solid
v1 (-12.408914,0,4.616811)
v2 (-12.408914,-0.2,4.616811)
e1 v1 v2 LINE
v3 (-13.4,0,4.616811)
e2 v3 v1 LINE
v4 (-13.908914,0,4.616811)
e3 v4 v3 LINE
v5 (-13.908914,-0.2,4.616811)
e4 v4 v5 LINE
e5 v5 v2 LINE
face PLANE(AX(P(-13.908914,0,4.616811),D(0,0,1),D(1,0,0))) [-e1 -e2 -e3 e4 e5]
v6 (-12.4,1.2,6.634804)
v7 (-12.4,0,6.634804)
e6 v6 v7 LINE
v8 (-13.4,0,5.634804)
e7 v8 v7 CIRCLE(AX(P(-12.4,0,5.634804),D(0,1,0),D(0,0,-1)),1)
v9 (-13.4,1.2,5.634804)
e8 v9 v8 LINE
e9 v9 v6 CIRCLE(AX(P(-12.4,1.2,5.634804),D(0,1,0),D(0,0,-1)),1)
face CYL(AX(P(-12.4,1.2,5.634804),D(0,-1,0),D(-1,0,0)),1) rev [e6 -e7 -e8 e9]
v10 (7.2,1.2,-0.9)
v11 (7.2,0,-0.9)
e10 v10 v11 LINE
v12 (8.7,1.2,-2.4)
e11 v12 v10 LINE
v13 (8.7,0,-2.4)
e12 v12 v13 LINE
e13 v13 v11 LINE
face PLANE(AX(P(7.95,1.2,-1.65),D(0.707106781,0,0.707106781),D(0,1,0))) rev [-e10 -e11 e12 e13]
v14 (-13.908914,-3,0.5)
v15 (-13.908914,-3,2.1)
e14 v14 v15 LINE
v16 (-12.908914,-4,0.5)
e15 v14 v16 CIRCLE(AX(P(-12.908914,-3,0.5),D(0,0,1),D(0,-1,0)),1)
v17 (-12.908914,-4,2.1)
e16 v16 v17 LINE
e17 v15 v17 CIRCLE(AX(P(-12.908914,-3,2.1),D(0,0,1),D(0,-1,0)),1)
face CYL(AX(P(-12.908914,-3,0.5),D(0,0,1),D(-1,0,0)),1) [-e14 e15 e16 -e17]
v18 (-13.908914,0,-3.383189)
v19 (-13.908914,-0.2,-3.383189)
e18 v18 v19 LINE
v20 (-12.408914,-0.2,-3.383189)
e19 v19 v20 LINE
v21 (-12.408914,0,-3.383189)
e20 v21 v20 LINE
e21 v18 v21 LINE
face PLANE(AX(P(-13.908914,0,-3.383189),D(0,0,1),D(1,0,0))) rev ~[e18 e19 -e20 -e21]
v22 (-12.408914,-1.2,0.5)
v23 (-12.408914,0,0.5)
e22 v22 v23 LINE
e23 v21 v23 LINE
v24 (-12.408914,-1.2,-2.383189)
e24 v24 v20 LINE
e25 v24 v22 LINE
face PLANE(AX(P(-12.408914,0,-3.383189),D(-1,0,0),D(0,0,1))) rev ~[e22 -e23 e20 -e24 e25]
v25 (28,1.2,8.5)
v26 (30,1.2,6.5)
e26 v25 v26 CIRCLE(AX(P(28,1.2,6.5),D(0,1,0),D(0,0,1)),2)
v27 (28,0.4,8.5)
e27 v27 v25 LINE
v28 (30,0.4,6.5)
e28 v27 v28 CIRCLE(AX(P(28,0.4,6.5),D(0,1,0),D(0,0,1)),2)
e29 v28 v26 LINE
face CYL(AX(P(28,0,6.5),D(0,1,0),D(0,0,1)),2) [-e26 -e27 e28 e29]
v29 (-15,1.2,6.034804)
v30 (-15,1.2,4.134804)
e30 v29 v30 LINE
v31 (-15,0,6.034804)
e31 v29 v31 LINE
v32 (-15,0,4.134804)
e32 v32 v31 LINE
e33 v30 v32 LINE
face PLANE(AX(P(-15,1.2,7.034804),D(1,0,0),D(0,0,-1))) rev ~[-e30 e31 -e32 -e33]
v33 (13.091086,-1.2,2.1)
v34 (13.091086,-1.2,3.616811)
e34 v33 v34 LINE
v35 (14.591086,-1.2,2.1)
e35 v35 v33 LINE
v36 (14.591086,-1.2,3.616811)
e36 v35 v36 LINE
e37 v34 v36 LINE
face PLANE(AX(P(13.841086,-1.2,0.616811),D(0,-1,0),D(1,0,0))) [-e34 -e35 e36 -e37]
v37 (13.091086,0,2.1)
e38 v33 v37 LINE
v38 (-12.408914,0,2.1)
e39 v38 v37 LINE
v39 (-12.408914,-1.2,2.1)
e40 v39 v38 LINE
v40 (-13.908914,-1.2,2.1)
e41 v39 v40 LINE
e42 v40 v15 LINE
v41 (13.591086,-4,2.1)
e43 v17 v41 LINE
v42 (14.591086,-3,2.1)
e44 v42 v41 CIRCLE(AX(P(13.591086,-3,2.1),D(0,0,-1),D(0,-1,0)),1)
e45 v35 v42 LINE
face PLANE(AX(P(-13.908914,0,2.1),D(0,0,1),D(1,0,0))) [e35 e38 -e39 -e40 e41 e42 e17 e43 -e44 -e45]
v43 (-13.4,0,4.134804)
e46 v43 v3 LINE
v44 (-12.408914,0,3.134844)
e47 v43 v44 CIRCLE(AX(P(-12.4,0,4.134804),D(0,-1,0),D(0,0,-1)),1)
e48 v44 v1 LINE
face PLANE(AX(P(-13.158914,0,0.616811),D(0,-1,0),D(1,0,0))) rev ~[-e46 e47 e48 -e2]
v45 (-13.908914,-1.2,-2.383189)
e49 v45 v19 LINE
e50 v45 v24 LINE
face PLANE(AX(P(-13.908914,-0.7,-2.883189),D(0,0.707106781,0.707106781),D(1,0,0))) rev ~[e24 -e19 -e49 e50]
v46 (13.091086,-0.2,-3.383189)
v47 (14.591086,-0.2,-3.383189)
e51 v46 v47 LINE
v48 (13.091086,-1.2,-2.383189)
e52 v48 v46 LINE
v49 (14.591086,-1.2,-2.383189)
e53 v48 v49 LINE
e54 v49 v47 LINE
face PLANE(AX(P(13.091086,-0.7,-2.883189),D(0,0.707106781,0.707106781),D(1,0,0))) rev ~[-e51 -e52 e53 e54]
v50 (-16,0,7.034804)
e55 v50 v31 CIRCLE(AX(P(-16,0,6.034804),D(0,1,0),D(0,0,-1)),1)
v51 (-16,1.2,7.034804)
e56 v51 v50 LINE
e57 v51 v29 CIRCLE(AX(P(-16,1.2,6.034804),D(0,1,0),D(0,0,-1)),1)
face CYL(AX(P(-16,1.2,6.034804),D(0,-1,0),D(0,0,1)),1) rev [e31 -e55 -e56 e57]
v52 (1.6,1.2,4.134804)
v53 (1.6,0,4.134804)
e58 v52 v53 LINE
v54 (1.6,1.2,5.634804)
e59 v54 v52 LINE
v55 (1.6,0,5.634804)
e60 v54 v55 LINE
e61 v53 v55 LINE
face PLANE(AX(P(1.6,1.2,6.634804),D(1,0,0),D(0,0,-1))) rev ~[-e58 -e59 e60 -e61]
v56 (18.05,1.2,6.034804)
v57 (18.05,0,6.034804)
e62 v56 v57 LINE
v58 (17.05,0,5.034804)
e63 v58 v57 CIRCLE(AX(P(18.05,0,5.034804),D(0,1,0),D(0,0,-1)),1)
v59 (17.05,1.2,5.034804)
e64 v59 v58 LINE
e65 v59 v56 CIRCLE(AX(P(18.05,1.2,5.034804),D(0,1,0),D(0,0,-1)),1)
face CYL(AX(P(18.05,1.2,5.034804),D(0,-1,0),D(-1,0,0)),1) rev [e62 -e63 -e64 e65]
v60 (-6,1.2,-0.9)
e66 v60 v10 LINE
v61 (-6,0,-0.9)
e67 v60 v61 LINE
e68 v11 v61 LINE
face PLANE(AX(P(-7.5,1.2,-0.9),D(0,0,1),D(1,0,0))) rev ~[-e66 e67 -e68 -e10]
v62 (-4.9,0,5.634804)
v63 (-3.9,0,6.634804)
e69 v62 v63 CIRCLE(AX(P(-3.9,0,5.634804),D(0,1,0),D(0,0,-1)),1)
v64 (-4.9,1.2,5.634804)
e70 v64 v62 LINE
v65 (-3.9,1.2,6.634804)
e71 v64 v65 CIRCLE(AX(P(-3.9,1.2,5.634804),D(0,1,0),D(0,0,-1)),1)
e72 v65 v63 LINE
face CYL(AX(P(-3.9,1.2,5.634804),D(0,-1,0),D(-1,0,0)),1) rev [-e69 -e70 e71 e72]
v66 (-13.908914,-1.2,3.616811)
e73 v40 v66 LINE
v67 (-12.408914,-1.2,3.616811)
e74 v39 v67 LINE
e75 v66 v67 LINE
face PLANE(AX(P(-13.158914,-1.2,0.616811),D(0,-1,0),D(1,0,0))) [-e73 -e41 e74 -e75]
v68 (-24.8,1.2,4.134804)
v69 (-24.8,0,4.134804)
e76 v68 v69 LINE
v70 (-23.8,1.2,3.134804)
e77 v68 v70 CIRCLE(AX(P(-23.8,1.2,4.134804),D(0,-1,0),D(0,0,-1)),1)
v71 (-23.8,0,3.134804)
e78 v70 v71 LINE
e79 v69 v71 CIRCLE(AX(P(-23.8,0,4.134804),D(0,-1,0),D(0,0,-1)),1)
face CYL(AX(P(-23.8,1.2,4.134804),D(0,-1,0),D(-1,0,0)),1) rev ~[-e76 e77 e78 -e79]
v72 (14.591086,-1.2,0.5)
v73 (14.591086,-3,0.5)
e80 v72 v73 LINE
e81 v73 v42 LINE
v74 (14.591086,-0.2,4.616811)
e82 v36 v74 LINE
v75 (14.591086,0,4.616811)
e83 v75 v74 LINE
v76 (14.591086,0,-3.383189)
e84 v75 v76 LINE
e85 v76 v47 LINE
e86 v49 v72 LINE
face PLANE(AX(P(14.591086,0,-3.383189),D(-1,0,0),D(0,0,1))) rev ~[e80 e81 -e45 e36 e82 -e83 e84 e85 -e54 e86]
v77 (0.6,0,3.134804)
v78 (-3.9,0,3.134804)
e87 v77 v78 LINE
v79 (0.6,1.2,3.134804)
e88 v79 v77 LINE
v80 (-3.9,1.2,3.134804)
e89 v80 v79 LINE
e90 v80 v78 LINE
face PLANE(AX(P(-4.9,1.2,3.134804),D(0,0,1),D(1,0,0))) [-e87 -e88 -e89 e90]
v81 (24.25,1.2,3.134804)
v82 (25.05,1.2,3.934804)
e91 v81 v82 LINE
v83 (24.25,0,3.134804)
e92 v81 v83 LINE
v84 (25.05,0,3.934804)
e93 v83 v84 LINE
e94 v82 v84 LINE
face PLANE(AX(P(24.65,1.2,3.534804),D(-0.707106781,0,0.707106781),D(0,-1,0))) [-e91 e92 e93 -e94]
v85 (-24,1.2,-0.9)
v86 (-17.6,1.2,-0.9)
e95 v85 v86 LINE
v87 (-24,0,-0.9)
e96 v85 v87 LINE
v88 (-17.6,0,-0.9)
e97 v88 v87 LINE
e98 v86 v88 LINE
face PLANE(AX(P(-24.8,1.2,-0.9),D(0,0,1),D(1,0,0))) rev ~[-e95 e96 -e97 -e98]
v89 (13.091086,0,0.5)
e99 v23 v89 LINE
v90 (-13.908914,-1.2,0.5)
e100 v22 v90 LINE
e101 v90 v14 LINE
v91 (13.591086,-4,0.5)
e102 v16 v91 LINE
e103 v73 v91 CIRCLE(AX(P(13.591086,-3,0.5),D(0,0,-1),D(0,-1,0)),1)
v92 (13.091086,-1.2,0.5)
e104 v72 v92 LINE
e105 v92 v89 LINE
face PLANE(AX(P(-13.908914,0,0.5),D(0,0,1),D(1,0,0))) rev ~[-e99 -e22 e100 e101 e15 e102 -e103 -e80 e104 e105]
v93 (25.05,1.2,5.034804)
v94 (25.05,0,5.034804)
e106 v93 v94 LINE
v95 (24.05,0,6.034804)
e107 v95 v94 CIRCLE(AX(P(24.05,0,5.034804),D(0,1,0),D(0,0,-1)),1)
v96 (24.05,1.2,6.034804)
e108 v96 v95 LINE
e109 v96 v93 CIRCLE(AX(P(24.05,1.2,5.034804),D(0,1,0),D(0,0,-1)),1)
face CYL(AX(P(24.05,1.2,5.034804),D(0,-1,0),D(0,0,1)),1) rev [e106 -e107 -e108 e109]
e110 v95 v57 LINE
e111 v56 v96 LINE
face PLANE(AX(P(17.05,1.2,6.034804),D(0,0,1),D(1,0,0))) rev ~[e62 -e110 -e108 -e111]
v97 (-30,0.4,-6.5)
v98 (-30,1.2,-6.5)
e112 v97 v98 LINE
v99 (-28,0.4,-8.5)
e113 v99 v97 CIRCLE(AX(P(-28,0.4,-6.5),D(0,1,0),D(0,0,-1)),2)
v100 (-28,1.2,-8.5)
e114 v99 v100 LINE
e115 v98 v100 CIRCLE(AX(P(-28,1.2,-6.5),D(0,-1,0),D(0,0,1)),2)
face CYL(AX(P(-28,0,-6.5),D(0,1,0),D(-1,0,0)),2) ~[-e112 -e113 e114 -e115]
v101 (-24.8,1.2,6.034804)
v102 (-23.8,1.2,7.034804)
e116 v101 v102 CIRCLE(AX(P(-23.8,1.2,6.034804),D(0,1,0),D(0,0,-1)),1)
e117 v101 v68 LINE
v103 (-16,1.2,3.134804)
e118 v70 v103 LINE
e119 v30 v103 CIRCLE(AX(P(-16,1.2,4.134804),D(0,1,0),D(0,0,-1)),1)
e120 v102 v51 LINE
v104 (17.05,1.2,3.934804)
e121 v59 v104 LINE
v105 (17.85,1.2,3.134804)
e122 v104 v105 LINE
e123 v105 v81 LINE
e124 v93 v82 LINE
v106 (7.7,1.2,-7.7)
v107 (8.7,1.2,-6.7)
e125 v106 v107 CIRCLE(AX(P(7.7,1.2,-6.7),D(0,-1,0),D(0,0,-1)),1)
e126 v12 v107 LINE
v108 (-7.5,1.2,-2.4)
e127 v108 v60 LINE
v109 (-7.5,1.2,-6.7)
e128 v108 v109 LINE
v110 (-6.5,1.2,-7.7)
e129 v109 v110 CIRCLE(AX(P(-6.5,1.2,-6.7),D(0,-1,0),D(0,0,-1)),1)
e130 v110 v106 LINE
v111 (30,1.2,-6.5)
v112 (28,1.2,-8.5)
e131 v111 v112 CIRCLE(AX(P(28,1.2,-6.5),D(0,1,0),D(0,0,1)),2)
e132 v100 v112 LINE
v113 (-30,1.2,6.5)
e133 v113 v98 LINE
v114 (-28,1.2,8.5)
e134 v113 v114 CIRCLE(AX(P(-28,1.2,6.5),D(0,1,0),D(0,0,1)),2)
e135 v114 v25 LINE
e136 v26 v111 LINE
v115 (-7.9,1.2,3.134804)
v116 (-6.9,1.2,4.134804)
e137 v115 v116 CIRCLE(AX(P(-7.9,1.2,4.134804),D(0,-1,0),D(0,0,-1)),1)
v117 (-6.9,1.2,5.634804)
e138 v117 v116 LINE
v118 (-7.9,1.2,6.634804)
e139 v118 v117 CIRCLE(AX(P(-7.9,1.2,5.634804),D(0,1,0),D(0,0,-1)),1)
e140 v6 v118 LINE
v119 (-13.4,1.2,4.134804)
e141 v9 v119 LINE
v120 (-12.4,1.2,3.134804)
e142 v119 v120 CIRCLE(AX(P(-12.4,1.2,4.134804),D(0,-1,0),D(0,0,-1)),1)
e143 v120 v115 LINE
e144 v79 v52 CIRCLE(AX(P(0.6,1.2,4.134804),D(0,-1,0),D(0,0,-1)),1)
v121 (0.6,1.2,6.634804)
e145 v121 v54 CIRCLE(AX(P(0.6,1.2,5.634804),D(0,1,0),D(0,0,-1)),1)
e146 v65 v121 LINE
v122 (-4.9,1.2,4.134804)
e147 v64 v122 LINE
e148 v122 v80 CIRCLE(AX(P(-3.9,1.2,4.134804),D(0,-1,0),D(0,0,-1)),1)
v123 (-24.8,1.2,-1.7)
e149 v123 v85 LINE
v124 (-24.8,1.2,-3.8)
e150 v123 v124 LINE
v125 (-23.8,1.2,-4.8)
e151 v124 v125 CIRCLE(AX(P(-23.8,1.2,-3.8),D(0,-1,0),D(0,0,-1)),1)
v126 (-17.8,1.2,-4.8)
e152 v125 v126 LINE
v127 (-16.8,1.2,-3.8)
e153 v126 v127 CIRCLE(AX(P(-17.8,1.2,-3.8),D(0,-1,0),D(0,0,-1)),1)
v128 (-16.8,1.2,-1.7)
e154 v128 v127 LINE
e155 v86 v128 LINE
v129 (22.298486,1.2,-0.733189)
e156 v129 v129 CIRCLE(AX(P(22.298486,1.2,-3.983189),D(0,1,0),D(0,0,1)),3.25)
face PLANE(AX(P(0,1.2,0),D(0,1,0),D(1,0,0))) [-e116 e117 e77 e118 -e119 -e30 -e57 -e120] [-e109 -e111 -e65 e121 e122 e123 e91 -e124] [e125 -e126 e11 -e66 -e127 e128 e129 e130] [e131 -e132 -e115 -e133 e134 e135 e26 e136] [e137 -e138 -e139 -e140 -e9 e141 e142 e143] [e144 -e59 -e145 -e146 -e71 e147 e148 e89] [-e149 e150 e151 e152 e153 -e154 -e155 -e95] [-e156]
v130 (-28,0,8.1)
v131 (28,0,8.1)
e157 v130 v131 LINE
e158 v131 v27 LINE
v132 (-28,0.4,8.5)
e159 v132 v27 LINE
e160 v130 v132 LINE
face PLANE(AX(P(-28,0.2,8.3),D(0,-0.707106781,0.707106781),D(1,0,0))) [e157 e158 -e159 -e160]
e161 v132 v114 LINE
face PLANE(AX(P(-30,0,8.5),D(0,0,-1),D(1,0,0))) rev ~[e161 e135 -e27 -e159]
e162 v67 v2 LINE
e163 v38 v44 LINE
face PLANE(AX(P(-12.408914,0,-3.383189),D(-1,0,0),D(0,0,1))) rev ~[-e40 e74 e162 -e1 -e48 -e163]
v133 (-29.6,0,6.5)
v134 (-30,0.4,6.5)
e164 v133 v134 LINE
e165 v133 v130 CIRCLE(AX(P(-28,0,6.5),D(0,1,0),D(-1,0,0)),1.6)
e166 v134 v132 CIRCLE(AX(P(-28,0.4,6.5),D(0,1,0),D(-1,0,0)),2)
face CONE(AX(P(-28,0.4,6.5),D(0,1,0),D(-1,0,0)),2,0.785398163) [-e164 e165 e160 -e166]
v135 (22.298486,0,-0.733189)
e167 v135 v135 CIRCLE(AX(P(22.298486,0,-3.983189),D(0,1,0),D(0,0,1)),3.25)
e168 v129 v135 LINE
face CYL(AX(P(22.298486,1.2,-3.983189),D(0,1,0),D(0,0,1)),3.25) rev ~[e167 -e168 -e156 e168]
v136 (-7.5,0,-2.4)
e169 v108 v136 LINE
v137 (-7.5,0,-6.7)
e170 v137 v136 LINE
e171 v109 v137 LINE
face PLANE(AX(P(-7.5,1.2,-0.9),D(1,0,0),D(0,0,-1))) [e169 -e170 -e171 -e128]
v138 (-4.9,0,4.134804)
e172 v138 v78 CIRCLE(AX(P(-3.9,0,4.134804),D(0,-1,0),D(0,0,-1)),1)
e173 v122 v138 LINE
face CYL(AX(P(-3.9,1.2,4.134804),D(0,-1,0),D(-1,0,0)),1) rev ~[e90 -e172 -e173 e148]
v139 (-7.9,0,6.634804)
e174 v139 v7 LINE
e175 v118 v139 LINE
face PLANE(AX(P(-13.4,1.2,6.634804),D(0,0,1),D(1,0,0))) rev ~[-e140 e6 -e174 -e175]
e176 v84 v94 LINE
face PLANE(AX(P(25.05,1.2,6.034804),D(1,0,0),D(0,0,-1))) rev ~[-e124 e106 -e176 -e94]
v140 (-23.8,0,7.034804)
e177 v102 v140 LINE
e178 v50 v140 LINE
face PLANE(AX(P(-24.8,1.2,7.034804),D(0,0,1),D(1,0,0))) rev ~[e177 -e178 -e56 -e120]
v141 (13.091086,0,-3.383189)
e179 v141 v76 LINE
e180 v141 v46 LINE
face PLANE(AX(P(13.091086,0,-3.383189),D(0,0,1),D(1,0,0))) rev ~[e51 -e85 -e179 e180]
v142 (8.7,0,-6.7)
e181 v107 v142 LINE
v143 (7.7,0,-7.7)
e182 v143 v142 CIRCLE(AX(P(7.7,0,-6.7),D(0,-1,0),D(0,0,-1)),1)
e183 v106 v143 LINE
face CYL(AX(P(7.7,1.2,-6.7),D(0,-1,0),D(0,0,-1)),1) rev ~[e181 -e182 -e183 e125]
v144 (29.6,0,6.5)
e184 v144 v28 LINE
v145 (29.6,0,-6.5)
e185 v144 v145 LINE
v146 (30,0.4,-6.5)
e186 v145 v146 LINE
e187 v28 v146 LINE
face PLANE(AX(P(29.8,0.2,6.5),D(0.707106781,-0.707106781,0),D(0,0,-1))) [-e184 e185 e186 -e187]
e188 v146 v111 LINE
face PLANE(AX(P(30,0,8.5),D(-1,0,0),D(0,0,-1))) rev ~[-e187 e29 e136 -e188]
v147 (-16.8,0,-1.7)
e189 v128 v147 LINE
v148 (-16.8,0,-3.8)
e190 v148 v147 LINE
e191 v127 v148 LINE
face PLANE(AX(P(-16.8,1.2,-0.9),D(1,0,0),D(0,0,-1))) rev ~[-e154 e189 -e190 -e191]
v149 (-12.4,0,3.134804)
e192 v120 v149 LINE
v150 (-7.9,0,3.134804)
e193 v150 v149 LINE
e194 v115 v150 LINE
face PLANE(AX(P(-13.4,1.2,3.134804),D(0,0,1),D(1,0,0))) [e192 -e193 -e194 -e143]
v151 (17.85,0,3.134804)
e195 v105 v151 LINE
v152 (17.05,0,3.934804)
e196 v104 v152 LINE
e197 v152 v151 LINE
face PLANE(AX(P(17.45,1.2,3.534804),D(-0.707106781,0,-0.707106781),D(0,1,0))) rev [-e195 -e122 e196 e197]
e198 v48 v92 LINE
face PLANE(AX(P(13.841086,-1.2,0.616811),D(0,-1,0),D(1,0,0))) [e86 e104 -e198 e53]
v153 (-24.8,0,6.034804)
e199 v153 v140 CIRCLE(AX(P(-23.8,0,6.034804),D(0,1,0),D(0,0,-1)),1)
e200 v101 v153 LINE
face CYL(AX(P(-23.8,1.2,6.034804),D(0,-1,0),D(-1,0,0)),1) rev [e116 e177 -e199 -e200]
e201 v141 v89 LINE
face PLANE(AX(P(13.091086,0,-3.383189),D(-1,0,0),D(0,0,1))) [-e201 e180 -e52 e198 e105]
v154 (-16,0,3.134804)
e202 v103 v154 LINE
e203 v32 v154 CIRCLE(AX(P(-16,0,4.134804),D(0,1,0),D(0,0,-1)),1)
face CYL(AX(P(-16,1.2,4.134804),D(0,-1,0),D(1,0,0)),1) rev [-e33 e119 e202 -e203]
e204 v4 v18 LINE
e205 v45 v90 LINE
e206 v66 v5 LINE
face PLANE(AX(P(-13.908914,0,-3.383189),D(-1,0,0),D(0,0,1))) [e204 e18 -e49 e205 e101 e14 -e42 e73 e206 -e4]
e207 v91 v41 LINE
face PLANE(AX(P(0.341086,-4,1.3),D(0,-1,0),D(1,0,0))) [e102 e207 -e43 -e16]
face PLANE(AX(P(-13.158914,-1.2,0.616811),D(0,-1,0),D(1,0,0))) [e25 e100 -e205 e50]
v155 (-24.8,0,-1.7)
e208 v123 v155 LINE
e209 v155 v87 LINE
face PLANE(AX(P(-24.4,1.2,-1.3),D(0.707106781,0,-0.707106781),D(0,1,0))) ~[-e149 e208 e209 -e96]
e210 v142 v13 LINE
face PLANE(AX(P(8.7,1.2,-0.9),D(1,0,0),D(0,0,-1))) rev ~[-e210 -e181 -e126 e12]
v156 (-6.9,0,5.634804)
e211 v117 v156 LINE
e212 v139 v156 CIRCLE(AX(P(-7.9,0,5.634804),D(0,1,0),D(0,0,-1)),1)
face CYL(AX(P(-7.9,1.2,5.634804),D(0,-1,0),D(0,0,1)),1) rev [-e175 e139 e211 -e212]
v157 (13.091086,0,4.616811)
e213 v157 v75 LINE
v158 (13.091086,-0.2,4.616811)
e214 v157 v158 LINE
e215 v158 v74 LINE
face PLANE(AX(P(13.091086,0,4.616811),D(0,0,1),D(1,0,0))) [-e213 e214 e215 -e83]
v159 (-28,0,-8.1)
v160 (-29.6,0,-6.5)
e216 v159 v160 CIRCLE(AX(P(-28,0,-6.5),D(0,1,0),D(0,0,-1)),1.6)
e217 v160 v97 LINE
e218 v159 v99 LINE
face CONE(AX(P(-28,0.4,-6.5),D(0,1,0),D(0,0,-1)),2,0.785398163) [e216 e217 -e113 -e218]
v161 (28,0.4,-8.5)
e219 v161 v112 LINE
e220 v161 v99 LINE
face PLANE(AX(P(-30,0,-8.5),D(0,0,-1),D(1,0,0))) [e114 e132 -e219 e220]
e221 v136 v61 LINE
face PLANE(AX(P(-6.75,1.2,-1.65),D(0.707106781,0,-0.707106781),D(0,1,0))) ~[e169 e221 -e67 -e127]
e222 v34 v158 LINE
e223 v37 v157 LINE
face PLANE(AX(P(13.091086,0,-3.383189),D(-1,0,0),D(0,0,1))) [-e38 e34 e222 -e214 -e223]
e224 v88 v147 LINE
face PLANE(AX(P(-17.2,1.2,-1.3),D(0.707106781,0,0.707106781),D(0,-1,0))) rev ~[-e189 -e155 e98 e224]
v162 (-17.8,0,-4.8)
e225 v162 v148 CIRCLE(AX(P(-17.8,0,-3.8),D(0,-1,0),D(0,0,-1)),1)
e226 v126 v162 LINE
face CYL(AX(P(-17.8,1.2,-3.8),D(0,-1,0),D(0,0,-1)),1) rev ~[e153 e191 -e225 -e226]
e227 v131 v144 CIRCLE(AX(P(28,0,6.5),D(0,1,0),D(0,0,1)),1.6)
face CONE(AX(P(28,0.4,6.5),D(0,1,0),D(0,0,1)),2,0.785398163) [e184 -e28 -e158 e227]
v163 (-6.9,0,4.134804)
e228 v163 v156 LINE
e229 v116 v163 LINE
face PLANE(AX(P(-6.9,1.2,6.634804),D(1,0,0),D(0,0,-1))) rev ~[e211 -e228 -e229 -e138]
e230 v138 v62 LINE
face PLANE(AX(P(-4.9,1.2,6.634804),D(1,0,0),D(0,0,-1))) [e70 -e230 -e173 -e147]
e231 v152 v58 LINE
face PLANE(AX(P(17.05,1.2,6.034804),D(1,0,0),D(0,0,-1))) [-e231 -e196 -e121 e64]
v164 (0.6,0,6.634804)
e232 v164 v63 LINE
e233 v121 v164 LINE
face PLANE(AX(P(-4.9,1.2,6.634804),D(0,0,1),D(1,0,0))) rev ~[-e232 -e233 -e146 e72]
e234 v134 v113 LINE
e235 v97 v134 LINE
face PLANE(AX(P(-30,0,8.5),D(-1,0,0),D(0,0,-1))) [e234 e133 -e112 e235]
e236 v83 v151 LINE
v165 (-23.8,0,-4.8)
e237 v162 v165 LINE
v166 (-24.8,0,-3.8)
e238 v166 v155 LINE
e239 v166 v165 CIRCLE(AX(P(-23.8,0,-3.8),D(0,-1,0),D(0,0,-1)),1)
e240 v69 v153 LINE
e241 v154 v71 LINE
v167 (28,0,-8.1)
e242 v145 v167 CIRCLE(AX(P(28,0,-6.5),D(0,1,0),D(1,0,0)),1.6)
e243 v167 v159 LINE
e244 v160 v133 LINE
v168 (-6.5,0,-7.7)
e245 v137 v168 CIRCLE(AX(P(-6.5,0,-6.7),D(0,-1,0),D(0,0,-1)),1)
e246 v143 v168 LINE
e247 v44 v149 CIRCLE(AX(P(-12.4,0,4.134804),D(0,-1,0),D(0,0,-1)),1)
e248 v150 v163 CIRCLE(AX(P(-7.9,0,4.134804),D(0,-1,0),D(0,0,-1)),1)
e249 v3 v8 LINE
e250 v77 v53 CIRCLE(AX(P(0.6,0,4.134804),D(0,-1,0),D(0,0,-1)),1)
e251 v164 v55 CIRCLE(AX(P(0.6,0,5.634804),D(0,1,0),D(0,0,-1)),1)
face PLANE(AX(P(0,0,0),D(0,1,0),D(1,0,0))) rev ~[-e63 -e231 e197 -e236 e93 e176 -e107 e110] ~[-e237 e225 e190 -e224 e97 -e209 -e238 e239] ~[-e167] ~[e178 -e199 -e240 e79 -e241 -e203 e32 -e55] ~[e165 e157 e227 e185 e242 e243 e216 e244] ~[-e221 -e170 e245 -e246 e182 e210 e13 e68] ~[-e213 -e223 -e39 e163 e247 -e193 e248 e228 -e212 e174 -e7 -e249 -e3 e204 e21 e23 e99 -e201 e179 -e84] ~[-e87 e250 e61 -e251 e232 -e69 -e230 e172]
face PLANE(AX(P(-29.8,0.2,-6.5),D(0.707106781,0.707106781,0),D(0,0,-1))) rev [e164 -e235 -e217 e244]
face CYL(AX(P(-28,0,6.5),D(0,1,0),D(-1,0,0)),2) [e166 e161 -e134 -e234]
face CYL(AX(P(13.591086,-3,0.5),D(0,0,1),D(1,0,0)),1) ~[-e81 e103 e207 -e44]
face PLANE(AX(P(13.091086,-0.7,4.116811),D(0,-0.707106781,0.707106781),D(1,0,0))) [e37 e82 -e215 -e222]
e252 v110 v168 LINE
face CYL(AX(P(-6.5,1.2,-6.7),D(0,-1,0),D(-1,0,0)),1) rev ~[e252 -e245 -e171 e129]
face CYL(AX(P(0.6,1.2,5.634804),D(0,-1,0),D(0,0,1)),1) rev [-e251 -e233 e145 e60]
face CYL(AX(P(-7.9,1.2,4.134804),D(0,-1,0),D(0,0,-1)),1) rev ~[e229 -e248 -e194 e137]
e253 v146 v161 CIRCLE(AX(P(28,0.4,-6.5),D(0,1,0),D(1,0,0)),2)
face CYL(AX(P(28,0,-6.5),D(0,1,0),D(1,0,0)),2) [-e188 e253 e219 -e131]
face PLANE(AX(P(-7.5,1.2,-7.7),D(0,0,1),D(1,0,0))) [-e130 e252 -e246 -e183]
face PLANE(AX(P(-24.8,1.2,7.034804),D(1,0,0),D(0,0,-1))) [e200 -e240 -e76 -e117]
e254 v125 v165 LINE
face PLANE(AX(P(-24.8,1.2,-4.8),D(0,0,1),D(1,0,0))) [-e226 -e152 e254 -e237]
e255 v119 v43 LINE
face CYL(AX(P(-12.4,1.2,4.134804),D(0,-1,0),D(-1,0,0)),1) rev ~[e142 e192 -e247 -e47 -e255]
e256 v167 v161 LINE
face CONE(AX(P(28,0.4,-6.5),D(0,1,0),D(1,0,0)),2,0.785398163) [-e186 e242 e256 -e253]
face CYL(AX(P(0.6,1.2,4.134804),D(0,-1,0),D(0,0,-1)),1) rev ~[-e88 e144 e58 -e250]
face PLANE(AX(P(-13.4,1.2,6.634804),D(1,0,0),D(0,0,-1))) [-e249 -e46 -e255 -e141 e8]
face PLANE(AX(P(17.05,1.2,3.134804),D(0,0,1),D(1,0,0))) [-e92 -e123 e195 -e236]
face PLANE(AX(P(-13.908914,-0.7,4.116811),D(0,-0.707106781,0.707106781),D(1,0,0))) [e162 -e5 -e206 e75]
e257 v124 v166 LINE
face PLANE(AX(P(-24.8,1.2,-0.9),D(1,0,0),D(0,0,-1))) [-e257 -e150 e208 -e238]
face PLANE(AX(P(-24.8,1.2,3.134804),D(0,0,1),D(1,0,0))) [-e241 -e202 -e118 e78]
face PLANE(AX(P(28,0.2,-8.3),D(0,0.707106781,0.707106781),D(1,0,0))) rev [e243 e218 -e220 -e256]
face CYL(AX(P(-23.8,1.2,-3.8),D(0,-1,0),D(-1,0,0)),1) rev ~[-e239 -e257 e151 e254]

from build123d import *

# Parameters (mm, degrees)
SKETCH_1_W          = 60
SKETCH_1_H          = 17
EXTRUDE_1_DEPTH     = 1.2
CUT_EXTRUDE_1_REACH = 33.204
SKETCH_4_R          = 3.25
SKETCH_4_W          = 8
SKETCH_4_H          = 3.9
SKETCH_4_W_2        = 16.2
SKETCH_4_H_2        = 6.8
SKETCH_4_H_3        = 2.9
SKETCH_4_W_3        = 6.5
SKETCH_4_H_4        = 3.5
SKETCH_4_W_4        = 9.8
FILLET_2_R          = 1
CHAMFER_1_SIZE      = 0.8
SKETCH_5_W          = 1.5
SKETCH_5_H          = 8
EXTRUDE_2_DEPTH     = 1.2
SKETCH_6_W          = 28.5
SKETCH_6_H          = 1.6
EXTRUDE_3_DEPTH     = 4
FILLET_3_R          = 1
CHAMFER_2_SIZE      = 1
FILLET_4_R          = 2
CHAMFER_5_SIZE      = 0.4
CHAMFER_6_SIZE      = 1.5


with BuildPart() as part:
    # 草图1 → 凸台-拉伸1 (new body)
    with BuildSketch(Plane(origin=(0, 0, 0), x_dir=(1, 0, 0), z_dir=(0, 1, 0))):
        Rectangle(SKETCH_1_W, SKETCH_1_H)
    extrude(amount=EXTRUDE_1_DEPTH)

    # 草图4 → 切除-拉伸1 (cut, up to next)
    with BuildSketch(Plane(origin=(0, 1.2, 0), x_dir=(1, 0, 0), z_dir=(0, 1, 0)), mode=Mode.PRIVATE) as cut_extrude_1_sk1:
        with Locations(Location((22.298485985, 3.98318929, 0), (0, 0, 270))):
            Circle(SKETCH_4_R)
    cut_extrude_1_tool1 = extrude(cut_extrude_1_sk1.sketch, amount=-CUT_EXTRUDE_1_REACH, mode=Mode.PRIVATE) & part.part
    # 草图4 → 切除-拉伸1 (cut, up to next)
    with BuildSketch(Plane(origin=(0, 1.2, 0), x_dir=(1, 0, 0), z_dir=(0, 1, 0)), mode=Mode.PRIVATE) as cut_extrude_1_sk2:
        with Locations((-20.8, 2.85)):
            Rectangle(SKETCH_4_W, SKETCH_4_H)
    cut_extrude_1_tool2 = extrude(cut_extrude_1_sk2.sketch, amount=-CUT_EXTRUDE_1_REACH, mode=Mode.PRIVATE) & part.part
    # 草图4 → 切除-拉伸1 (cut, up to next)
    with BuildSketch(Plane(origin=(0, 1.2, 0), x_dir=(1, 0, 0), z_dir=(0, 1, 0)), mode=Mode.PRIVATE) as cut_extrude_1_sk3:
        with Locations((0.6, 4.3)):
            Rectangle(SKETCH_4_W_2, SKETCH_4_H_2)
    cut_extrude_1_tool3 = extrude(cut_extrude_1_sk3.sketch, amount=-CUT_EXTRUDE_1_REACH, mode=Mode.PRIVATE) & part.part
    # 草图4 → 切除-拉伸1 (cut, up to next)
    with BuildSketch(Plane(origin=(0, 1.2, 0), x_dir=(1, 0, 0), z_dir=(0, 1, 0)), mode=Mode.PRIVATE) as cut_extrude_1_sk4:
        with Locations((21.05, -4.584803861)):
            Rectangle(SKETCH_4_W, SKETCH_4_H_3)
    cut_extrude_1_tool4 = extrude(cut_extrude_1_sk4.sketch, amount=-CUT_EXTRUDE_1_REACH, mode=Mode.PRIVATE) & part.part
    # 草图4 → 切除-拉伸1 (cut, up to next)
    with BuildSketch(Plane(origin=(0, 1.2, 0), x_dir=(1, 0, 0), z_dir=(0, 1, 0)), mode=Mode.PRIVATE) as cut_extrude_1_sk5:
        with Locations((-1.65, -4.884803861)):
            Rectangle(SKETCH_4_W_3, SKETCH_4_H_4)
    cut_extrude_1_tool5 = extrude(cut_extrude_1_sk5.sketch, amount=-CUT_EXTRUDE_1_REACH, mode=Mode.PRIVATE) & part.part
    # 草图4 → 切除-拉伸1 (cut, up to next)
    with BuildSketch(Plane(origin=(0, 1.2, 0), x_dir=(1, 0, 0), z_dir=(0, 1, 0)), mode=Mode.PRIVATE) as cut_extrude_1_sk6:
        with Locations((-10.15, -4.884803861)):
            Rectangle(SKETCH_4_W_3, SKETCH_4_H_4)
    cut_extrude_1_tool6 = extrude(cut_extrude_1_sk6.sketch, amount=-CUT_EXTRUDE_1_REACH, mode=Mode.PRIVATE) & part.part
    # 草图4 → 切除-拉伸1 (cut, up to next)
    with BuildSketch(Plane(origin=(0, 1.2, 0), x_dir=(1, 0, 0), z_dir=(0, 1, 0)), mode=Mode.PRIVATE) as cut_extrude_1_sk7:
        with Locations((-19.9, -5.084803861)):
            Rectangle(SKETCH_4_W_4, SKETCH_4_H)
    cut_extrude_1_tool7 = extrude(cut_extrude_1_sk7.sketch, amount=-CUT_EXTRUDE_1_REACH, mode=Mode.PRIVATE) & part.part
    add(cut_extrude_1_tool1.solids().sort_by_distance((22.298486, 1.2, -3.983189))[0], mode=Mode.SUBTRACT)
    add(cut_extrude_1_tool2.solids().sort_by_distance((-20.8, 1.2, -2.85))[0], mode=Mode.SUBTRACT)
    add(cut_extrude_1_tool3.solids().sort_by_distance((0.6, 1.2, -4.3))[0], mode=Mode.SUBTRACT)
    add(cut_extrude_1_tool4.solids().sort_by_distance((21.05, 1.2, 4.584804))[0], mode=Mode.SUBTRACT)
    add(cut_extrude_1_tool5.solids().sort_by_distance((-1.65, 1.2, 4.884804))[0], mode=Mode.SUBTRACT)
    add(cut_extrude_1_tool6.solids().sort_by_distance((-10.15, 1.2, 4.884804))[0], mode=Mode.SUBTRACT)
    add(cut_extrude_1_tool7.solids().sort_by_distance((-19.9, 1.2, 5.084804))[0], mode=Mode.SUBTRACT)

    # 圆角2
    fillet_2_edges = [part.edges().sort_by_distance(p)[0] for p in [
        (-13.4, 0.6, 6.634803861),
        (-13.4, 0.6, 3.134803861),
        (-6.9, 0.6, 3.134803861),
        (-6.9, 0.6, 6.634803861),
        (-4.9, 0.6, 6.634803861),
        (-4.9, 0.6, 3.134803861),
        (1.6, 0.6, 3.134803861),
        (1.6, 0.6, 6.634803861),
        (17.05, 0.6, 6.034803861),
        (25.05, 0.6, 6.034803861),
        (-7.5, 0.6, -7.7),
        (8.7, 0.6, -7.7),
        (-24.8, 0.6, 7.034803861),
        (-24.8, 0.6, 3.134803861),
        (-15, 0.6, 3.134803861),
        (-15, 0.6, 7.034803861),
        (-24.8, 0.6, -4.8),
        (-16.8, 0.6, -4.8),
    ]]
    fillet(fillet_2_edges, radius=FILLET_2_R)

    # 倒角1
    chamfer_1_edges = [part.edges().sort_by_distance(p)[0] for p in [
        (17.05, 0.6, 3.134803861),
        (25.05, 0.6, 3.134803861),
        (-24.8, 0.6, -0.9),
        (-16.8, 0.6, -0.9),
    ]]
    chamfer(chamfer_1_edges, length=CHAMFER_1_SIZE)

    # 草图5 → 凸台-拉伸2 (add)
    with BuildSketch(Plane.XZ):
        with Locations((-13.15891381, 0.61681071)):
            Rectangle(SKETCH_5_W, SKETCH_5_H)
        with Locations((13.84108619, 0.61681071)):
            Rectangle(SKETCH_5_W, SKETCH_5_H)
    extrude(amount=EXTRUDE_2_DEPTH)

    # 草图6 → 凸台-拉伸3 (add)
    with BuildSketch(Plane.XZ):
        with Locations((0.34108619, 1.3)):
            Rectangle(SKETCH_6_W, SKETCH_6_H)
    extrude(amount=EXTRUDE_3_DEPTH)

    # 圆角3
    fillet_3_edges = [part.edges().sort_by_distance(p)[0] for p in [
        (-13.90891381, -4, 1.3),
        (14.59108619, -4, 1.3),
    ]]
    fillet(fillet_3_edges, radius=FILLET_3_R)

    # 倒角2
    chamfer_2_edges = [part.edges().sort_by_distance(p)[0] for p in [
        (-13.15891381, -1.2, -3.38318929),
        (-13.15891381, -1.2, 4.61681071),
        (13.84108619, -1.2, -3.38318929),
        (13.84108619, -1.2, 4.61681071),
    ]]
    chamfer(chamfer_2_edges, length=CHAMFER_2_SIZE)

    # 圆角4
    fillet_4_edges = [part.edges().sort_by_distance(p)[0] for p in [
        (30, 0.6, 8.5),
        (-30, 0.6, 8.5),
        (-30, 0.6, -8.5),
        (30, 0.6, -8.5),
    ]]
    fillet(fillet_4_edges, radius=FILLET_4_R)

    # 倒角5
    chamfer_5_edges = [part.edges().sort_by_distance(p)[0] for p in [
        (30, 0, 0),
        (0, 0, 8.5),
        (-30, 0, 0),
        (0, 0, -8.5),
        (-29.414213562, 0, -7.914213562),
        (-29.414213562, 0, 7.914213562),
        (29.414213562, 0, -7.914213562),
        (29.414213562, 0, 7.914213562),
    ]]
    chamfer(chamfer_5_edges, length=CHAMFER_5_SIZE)

    # 倒角6
    chamfer_6_edges = [part.edges().sort_by_distance(p)[0] for p in [
        (-7.5, 0.6, -0.9),
        (8.7, 0.6, -0.9),
    ]]
    chamfer(chamfer_6_edges, length=CHAMFER_6_SIZE)


solid = part.part
